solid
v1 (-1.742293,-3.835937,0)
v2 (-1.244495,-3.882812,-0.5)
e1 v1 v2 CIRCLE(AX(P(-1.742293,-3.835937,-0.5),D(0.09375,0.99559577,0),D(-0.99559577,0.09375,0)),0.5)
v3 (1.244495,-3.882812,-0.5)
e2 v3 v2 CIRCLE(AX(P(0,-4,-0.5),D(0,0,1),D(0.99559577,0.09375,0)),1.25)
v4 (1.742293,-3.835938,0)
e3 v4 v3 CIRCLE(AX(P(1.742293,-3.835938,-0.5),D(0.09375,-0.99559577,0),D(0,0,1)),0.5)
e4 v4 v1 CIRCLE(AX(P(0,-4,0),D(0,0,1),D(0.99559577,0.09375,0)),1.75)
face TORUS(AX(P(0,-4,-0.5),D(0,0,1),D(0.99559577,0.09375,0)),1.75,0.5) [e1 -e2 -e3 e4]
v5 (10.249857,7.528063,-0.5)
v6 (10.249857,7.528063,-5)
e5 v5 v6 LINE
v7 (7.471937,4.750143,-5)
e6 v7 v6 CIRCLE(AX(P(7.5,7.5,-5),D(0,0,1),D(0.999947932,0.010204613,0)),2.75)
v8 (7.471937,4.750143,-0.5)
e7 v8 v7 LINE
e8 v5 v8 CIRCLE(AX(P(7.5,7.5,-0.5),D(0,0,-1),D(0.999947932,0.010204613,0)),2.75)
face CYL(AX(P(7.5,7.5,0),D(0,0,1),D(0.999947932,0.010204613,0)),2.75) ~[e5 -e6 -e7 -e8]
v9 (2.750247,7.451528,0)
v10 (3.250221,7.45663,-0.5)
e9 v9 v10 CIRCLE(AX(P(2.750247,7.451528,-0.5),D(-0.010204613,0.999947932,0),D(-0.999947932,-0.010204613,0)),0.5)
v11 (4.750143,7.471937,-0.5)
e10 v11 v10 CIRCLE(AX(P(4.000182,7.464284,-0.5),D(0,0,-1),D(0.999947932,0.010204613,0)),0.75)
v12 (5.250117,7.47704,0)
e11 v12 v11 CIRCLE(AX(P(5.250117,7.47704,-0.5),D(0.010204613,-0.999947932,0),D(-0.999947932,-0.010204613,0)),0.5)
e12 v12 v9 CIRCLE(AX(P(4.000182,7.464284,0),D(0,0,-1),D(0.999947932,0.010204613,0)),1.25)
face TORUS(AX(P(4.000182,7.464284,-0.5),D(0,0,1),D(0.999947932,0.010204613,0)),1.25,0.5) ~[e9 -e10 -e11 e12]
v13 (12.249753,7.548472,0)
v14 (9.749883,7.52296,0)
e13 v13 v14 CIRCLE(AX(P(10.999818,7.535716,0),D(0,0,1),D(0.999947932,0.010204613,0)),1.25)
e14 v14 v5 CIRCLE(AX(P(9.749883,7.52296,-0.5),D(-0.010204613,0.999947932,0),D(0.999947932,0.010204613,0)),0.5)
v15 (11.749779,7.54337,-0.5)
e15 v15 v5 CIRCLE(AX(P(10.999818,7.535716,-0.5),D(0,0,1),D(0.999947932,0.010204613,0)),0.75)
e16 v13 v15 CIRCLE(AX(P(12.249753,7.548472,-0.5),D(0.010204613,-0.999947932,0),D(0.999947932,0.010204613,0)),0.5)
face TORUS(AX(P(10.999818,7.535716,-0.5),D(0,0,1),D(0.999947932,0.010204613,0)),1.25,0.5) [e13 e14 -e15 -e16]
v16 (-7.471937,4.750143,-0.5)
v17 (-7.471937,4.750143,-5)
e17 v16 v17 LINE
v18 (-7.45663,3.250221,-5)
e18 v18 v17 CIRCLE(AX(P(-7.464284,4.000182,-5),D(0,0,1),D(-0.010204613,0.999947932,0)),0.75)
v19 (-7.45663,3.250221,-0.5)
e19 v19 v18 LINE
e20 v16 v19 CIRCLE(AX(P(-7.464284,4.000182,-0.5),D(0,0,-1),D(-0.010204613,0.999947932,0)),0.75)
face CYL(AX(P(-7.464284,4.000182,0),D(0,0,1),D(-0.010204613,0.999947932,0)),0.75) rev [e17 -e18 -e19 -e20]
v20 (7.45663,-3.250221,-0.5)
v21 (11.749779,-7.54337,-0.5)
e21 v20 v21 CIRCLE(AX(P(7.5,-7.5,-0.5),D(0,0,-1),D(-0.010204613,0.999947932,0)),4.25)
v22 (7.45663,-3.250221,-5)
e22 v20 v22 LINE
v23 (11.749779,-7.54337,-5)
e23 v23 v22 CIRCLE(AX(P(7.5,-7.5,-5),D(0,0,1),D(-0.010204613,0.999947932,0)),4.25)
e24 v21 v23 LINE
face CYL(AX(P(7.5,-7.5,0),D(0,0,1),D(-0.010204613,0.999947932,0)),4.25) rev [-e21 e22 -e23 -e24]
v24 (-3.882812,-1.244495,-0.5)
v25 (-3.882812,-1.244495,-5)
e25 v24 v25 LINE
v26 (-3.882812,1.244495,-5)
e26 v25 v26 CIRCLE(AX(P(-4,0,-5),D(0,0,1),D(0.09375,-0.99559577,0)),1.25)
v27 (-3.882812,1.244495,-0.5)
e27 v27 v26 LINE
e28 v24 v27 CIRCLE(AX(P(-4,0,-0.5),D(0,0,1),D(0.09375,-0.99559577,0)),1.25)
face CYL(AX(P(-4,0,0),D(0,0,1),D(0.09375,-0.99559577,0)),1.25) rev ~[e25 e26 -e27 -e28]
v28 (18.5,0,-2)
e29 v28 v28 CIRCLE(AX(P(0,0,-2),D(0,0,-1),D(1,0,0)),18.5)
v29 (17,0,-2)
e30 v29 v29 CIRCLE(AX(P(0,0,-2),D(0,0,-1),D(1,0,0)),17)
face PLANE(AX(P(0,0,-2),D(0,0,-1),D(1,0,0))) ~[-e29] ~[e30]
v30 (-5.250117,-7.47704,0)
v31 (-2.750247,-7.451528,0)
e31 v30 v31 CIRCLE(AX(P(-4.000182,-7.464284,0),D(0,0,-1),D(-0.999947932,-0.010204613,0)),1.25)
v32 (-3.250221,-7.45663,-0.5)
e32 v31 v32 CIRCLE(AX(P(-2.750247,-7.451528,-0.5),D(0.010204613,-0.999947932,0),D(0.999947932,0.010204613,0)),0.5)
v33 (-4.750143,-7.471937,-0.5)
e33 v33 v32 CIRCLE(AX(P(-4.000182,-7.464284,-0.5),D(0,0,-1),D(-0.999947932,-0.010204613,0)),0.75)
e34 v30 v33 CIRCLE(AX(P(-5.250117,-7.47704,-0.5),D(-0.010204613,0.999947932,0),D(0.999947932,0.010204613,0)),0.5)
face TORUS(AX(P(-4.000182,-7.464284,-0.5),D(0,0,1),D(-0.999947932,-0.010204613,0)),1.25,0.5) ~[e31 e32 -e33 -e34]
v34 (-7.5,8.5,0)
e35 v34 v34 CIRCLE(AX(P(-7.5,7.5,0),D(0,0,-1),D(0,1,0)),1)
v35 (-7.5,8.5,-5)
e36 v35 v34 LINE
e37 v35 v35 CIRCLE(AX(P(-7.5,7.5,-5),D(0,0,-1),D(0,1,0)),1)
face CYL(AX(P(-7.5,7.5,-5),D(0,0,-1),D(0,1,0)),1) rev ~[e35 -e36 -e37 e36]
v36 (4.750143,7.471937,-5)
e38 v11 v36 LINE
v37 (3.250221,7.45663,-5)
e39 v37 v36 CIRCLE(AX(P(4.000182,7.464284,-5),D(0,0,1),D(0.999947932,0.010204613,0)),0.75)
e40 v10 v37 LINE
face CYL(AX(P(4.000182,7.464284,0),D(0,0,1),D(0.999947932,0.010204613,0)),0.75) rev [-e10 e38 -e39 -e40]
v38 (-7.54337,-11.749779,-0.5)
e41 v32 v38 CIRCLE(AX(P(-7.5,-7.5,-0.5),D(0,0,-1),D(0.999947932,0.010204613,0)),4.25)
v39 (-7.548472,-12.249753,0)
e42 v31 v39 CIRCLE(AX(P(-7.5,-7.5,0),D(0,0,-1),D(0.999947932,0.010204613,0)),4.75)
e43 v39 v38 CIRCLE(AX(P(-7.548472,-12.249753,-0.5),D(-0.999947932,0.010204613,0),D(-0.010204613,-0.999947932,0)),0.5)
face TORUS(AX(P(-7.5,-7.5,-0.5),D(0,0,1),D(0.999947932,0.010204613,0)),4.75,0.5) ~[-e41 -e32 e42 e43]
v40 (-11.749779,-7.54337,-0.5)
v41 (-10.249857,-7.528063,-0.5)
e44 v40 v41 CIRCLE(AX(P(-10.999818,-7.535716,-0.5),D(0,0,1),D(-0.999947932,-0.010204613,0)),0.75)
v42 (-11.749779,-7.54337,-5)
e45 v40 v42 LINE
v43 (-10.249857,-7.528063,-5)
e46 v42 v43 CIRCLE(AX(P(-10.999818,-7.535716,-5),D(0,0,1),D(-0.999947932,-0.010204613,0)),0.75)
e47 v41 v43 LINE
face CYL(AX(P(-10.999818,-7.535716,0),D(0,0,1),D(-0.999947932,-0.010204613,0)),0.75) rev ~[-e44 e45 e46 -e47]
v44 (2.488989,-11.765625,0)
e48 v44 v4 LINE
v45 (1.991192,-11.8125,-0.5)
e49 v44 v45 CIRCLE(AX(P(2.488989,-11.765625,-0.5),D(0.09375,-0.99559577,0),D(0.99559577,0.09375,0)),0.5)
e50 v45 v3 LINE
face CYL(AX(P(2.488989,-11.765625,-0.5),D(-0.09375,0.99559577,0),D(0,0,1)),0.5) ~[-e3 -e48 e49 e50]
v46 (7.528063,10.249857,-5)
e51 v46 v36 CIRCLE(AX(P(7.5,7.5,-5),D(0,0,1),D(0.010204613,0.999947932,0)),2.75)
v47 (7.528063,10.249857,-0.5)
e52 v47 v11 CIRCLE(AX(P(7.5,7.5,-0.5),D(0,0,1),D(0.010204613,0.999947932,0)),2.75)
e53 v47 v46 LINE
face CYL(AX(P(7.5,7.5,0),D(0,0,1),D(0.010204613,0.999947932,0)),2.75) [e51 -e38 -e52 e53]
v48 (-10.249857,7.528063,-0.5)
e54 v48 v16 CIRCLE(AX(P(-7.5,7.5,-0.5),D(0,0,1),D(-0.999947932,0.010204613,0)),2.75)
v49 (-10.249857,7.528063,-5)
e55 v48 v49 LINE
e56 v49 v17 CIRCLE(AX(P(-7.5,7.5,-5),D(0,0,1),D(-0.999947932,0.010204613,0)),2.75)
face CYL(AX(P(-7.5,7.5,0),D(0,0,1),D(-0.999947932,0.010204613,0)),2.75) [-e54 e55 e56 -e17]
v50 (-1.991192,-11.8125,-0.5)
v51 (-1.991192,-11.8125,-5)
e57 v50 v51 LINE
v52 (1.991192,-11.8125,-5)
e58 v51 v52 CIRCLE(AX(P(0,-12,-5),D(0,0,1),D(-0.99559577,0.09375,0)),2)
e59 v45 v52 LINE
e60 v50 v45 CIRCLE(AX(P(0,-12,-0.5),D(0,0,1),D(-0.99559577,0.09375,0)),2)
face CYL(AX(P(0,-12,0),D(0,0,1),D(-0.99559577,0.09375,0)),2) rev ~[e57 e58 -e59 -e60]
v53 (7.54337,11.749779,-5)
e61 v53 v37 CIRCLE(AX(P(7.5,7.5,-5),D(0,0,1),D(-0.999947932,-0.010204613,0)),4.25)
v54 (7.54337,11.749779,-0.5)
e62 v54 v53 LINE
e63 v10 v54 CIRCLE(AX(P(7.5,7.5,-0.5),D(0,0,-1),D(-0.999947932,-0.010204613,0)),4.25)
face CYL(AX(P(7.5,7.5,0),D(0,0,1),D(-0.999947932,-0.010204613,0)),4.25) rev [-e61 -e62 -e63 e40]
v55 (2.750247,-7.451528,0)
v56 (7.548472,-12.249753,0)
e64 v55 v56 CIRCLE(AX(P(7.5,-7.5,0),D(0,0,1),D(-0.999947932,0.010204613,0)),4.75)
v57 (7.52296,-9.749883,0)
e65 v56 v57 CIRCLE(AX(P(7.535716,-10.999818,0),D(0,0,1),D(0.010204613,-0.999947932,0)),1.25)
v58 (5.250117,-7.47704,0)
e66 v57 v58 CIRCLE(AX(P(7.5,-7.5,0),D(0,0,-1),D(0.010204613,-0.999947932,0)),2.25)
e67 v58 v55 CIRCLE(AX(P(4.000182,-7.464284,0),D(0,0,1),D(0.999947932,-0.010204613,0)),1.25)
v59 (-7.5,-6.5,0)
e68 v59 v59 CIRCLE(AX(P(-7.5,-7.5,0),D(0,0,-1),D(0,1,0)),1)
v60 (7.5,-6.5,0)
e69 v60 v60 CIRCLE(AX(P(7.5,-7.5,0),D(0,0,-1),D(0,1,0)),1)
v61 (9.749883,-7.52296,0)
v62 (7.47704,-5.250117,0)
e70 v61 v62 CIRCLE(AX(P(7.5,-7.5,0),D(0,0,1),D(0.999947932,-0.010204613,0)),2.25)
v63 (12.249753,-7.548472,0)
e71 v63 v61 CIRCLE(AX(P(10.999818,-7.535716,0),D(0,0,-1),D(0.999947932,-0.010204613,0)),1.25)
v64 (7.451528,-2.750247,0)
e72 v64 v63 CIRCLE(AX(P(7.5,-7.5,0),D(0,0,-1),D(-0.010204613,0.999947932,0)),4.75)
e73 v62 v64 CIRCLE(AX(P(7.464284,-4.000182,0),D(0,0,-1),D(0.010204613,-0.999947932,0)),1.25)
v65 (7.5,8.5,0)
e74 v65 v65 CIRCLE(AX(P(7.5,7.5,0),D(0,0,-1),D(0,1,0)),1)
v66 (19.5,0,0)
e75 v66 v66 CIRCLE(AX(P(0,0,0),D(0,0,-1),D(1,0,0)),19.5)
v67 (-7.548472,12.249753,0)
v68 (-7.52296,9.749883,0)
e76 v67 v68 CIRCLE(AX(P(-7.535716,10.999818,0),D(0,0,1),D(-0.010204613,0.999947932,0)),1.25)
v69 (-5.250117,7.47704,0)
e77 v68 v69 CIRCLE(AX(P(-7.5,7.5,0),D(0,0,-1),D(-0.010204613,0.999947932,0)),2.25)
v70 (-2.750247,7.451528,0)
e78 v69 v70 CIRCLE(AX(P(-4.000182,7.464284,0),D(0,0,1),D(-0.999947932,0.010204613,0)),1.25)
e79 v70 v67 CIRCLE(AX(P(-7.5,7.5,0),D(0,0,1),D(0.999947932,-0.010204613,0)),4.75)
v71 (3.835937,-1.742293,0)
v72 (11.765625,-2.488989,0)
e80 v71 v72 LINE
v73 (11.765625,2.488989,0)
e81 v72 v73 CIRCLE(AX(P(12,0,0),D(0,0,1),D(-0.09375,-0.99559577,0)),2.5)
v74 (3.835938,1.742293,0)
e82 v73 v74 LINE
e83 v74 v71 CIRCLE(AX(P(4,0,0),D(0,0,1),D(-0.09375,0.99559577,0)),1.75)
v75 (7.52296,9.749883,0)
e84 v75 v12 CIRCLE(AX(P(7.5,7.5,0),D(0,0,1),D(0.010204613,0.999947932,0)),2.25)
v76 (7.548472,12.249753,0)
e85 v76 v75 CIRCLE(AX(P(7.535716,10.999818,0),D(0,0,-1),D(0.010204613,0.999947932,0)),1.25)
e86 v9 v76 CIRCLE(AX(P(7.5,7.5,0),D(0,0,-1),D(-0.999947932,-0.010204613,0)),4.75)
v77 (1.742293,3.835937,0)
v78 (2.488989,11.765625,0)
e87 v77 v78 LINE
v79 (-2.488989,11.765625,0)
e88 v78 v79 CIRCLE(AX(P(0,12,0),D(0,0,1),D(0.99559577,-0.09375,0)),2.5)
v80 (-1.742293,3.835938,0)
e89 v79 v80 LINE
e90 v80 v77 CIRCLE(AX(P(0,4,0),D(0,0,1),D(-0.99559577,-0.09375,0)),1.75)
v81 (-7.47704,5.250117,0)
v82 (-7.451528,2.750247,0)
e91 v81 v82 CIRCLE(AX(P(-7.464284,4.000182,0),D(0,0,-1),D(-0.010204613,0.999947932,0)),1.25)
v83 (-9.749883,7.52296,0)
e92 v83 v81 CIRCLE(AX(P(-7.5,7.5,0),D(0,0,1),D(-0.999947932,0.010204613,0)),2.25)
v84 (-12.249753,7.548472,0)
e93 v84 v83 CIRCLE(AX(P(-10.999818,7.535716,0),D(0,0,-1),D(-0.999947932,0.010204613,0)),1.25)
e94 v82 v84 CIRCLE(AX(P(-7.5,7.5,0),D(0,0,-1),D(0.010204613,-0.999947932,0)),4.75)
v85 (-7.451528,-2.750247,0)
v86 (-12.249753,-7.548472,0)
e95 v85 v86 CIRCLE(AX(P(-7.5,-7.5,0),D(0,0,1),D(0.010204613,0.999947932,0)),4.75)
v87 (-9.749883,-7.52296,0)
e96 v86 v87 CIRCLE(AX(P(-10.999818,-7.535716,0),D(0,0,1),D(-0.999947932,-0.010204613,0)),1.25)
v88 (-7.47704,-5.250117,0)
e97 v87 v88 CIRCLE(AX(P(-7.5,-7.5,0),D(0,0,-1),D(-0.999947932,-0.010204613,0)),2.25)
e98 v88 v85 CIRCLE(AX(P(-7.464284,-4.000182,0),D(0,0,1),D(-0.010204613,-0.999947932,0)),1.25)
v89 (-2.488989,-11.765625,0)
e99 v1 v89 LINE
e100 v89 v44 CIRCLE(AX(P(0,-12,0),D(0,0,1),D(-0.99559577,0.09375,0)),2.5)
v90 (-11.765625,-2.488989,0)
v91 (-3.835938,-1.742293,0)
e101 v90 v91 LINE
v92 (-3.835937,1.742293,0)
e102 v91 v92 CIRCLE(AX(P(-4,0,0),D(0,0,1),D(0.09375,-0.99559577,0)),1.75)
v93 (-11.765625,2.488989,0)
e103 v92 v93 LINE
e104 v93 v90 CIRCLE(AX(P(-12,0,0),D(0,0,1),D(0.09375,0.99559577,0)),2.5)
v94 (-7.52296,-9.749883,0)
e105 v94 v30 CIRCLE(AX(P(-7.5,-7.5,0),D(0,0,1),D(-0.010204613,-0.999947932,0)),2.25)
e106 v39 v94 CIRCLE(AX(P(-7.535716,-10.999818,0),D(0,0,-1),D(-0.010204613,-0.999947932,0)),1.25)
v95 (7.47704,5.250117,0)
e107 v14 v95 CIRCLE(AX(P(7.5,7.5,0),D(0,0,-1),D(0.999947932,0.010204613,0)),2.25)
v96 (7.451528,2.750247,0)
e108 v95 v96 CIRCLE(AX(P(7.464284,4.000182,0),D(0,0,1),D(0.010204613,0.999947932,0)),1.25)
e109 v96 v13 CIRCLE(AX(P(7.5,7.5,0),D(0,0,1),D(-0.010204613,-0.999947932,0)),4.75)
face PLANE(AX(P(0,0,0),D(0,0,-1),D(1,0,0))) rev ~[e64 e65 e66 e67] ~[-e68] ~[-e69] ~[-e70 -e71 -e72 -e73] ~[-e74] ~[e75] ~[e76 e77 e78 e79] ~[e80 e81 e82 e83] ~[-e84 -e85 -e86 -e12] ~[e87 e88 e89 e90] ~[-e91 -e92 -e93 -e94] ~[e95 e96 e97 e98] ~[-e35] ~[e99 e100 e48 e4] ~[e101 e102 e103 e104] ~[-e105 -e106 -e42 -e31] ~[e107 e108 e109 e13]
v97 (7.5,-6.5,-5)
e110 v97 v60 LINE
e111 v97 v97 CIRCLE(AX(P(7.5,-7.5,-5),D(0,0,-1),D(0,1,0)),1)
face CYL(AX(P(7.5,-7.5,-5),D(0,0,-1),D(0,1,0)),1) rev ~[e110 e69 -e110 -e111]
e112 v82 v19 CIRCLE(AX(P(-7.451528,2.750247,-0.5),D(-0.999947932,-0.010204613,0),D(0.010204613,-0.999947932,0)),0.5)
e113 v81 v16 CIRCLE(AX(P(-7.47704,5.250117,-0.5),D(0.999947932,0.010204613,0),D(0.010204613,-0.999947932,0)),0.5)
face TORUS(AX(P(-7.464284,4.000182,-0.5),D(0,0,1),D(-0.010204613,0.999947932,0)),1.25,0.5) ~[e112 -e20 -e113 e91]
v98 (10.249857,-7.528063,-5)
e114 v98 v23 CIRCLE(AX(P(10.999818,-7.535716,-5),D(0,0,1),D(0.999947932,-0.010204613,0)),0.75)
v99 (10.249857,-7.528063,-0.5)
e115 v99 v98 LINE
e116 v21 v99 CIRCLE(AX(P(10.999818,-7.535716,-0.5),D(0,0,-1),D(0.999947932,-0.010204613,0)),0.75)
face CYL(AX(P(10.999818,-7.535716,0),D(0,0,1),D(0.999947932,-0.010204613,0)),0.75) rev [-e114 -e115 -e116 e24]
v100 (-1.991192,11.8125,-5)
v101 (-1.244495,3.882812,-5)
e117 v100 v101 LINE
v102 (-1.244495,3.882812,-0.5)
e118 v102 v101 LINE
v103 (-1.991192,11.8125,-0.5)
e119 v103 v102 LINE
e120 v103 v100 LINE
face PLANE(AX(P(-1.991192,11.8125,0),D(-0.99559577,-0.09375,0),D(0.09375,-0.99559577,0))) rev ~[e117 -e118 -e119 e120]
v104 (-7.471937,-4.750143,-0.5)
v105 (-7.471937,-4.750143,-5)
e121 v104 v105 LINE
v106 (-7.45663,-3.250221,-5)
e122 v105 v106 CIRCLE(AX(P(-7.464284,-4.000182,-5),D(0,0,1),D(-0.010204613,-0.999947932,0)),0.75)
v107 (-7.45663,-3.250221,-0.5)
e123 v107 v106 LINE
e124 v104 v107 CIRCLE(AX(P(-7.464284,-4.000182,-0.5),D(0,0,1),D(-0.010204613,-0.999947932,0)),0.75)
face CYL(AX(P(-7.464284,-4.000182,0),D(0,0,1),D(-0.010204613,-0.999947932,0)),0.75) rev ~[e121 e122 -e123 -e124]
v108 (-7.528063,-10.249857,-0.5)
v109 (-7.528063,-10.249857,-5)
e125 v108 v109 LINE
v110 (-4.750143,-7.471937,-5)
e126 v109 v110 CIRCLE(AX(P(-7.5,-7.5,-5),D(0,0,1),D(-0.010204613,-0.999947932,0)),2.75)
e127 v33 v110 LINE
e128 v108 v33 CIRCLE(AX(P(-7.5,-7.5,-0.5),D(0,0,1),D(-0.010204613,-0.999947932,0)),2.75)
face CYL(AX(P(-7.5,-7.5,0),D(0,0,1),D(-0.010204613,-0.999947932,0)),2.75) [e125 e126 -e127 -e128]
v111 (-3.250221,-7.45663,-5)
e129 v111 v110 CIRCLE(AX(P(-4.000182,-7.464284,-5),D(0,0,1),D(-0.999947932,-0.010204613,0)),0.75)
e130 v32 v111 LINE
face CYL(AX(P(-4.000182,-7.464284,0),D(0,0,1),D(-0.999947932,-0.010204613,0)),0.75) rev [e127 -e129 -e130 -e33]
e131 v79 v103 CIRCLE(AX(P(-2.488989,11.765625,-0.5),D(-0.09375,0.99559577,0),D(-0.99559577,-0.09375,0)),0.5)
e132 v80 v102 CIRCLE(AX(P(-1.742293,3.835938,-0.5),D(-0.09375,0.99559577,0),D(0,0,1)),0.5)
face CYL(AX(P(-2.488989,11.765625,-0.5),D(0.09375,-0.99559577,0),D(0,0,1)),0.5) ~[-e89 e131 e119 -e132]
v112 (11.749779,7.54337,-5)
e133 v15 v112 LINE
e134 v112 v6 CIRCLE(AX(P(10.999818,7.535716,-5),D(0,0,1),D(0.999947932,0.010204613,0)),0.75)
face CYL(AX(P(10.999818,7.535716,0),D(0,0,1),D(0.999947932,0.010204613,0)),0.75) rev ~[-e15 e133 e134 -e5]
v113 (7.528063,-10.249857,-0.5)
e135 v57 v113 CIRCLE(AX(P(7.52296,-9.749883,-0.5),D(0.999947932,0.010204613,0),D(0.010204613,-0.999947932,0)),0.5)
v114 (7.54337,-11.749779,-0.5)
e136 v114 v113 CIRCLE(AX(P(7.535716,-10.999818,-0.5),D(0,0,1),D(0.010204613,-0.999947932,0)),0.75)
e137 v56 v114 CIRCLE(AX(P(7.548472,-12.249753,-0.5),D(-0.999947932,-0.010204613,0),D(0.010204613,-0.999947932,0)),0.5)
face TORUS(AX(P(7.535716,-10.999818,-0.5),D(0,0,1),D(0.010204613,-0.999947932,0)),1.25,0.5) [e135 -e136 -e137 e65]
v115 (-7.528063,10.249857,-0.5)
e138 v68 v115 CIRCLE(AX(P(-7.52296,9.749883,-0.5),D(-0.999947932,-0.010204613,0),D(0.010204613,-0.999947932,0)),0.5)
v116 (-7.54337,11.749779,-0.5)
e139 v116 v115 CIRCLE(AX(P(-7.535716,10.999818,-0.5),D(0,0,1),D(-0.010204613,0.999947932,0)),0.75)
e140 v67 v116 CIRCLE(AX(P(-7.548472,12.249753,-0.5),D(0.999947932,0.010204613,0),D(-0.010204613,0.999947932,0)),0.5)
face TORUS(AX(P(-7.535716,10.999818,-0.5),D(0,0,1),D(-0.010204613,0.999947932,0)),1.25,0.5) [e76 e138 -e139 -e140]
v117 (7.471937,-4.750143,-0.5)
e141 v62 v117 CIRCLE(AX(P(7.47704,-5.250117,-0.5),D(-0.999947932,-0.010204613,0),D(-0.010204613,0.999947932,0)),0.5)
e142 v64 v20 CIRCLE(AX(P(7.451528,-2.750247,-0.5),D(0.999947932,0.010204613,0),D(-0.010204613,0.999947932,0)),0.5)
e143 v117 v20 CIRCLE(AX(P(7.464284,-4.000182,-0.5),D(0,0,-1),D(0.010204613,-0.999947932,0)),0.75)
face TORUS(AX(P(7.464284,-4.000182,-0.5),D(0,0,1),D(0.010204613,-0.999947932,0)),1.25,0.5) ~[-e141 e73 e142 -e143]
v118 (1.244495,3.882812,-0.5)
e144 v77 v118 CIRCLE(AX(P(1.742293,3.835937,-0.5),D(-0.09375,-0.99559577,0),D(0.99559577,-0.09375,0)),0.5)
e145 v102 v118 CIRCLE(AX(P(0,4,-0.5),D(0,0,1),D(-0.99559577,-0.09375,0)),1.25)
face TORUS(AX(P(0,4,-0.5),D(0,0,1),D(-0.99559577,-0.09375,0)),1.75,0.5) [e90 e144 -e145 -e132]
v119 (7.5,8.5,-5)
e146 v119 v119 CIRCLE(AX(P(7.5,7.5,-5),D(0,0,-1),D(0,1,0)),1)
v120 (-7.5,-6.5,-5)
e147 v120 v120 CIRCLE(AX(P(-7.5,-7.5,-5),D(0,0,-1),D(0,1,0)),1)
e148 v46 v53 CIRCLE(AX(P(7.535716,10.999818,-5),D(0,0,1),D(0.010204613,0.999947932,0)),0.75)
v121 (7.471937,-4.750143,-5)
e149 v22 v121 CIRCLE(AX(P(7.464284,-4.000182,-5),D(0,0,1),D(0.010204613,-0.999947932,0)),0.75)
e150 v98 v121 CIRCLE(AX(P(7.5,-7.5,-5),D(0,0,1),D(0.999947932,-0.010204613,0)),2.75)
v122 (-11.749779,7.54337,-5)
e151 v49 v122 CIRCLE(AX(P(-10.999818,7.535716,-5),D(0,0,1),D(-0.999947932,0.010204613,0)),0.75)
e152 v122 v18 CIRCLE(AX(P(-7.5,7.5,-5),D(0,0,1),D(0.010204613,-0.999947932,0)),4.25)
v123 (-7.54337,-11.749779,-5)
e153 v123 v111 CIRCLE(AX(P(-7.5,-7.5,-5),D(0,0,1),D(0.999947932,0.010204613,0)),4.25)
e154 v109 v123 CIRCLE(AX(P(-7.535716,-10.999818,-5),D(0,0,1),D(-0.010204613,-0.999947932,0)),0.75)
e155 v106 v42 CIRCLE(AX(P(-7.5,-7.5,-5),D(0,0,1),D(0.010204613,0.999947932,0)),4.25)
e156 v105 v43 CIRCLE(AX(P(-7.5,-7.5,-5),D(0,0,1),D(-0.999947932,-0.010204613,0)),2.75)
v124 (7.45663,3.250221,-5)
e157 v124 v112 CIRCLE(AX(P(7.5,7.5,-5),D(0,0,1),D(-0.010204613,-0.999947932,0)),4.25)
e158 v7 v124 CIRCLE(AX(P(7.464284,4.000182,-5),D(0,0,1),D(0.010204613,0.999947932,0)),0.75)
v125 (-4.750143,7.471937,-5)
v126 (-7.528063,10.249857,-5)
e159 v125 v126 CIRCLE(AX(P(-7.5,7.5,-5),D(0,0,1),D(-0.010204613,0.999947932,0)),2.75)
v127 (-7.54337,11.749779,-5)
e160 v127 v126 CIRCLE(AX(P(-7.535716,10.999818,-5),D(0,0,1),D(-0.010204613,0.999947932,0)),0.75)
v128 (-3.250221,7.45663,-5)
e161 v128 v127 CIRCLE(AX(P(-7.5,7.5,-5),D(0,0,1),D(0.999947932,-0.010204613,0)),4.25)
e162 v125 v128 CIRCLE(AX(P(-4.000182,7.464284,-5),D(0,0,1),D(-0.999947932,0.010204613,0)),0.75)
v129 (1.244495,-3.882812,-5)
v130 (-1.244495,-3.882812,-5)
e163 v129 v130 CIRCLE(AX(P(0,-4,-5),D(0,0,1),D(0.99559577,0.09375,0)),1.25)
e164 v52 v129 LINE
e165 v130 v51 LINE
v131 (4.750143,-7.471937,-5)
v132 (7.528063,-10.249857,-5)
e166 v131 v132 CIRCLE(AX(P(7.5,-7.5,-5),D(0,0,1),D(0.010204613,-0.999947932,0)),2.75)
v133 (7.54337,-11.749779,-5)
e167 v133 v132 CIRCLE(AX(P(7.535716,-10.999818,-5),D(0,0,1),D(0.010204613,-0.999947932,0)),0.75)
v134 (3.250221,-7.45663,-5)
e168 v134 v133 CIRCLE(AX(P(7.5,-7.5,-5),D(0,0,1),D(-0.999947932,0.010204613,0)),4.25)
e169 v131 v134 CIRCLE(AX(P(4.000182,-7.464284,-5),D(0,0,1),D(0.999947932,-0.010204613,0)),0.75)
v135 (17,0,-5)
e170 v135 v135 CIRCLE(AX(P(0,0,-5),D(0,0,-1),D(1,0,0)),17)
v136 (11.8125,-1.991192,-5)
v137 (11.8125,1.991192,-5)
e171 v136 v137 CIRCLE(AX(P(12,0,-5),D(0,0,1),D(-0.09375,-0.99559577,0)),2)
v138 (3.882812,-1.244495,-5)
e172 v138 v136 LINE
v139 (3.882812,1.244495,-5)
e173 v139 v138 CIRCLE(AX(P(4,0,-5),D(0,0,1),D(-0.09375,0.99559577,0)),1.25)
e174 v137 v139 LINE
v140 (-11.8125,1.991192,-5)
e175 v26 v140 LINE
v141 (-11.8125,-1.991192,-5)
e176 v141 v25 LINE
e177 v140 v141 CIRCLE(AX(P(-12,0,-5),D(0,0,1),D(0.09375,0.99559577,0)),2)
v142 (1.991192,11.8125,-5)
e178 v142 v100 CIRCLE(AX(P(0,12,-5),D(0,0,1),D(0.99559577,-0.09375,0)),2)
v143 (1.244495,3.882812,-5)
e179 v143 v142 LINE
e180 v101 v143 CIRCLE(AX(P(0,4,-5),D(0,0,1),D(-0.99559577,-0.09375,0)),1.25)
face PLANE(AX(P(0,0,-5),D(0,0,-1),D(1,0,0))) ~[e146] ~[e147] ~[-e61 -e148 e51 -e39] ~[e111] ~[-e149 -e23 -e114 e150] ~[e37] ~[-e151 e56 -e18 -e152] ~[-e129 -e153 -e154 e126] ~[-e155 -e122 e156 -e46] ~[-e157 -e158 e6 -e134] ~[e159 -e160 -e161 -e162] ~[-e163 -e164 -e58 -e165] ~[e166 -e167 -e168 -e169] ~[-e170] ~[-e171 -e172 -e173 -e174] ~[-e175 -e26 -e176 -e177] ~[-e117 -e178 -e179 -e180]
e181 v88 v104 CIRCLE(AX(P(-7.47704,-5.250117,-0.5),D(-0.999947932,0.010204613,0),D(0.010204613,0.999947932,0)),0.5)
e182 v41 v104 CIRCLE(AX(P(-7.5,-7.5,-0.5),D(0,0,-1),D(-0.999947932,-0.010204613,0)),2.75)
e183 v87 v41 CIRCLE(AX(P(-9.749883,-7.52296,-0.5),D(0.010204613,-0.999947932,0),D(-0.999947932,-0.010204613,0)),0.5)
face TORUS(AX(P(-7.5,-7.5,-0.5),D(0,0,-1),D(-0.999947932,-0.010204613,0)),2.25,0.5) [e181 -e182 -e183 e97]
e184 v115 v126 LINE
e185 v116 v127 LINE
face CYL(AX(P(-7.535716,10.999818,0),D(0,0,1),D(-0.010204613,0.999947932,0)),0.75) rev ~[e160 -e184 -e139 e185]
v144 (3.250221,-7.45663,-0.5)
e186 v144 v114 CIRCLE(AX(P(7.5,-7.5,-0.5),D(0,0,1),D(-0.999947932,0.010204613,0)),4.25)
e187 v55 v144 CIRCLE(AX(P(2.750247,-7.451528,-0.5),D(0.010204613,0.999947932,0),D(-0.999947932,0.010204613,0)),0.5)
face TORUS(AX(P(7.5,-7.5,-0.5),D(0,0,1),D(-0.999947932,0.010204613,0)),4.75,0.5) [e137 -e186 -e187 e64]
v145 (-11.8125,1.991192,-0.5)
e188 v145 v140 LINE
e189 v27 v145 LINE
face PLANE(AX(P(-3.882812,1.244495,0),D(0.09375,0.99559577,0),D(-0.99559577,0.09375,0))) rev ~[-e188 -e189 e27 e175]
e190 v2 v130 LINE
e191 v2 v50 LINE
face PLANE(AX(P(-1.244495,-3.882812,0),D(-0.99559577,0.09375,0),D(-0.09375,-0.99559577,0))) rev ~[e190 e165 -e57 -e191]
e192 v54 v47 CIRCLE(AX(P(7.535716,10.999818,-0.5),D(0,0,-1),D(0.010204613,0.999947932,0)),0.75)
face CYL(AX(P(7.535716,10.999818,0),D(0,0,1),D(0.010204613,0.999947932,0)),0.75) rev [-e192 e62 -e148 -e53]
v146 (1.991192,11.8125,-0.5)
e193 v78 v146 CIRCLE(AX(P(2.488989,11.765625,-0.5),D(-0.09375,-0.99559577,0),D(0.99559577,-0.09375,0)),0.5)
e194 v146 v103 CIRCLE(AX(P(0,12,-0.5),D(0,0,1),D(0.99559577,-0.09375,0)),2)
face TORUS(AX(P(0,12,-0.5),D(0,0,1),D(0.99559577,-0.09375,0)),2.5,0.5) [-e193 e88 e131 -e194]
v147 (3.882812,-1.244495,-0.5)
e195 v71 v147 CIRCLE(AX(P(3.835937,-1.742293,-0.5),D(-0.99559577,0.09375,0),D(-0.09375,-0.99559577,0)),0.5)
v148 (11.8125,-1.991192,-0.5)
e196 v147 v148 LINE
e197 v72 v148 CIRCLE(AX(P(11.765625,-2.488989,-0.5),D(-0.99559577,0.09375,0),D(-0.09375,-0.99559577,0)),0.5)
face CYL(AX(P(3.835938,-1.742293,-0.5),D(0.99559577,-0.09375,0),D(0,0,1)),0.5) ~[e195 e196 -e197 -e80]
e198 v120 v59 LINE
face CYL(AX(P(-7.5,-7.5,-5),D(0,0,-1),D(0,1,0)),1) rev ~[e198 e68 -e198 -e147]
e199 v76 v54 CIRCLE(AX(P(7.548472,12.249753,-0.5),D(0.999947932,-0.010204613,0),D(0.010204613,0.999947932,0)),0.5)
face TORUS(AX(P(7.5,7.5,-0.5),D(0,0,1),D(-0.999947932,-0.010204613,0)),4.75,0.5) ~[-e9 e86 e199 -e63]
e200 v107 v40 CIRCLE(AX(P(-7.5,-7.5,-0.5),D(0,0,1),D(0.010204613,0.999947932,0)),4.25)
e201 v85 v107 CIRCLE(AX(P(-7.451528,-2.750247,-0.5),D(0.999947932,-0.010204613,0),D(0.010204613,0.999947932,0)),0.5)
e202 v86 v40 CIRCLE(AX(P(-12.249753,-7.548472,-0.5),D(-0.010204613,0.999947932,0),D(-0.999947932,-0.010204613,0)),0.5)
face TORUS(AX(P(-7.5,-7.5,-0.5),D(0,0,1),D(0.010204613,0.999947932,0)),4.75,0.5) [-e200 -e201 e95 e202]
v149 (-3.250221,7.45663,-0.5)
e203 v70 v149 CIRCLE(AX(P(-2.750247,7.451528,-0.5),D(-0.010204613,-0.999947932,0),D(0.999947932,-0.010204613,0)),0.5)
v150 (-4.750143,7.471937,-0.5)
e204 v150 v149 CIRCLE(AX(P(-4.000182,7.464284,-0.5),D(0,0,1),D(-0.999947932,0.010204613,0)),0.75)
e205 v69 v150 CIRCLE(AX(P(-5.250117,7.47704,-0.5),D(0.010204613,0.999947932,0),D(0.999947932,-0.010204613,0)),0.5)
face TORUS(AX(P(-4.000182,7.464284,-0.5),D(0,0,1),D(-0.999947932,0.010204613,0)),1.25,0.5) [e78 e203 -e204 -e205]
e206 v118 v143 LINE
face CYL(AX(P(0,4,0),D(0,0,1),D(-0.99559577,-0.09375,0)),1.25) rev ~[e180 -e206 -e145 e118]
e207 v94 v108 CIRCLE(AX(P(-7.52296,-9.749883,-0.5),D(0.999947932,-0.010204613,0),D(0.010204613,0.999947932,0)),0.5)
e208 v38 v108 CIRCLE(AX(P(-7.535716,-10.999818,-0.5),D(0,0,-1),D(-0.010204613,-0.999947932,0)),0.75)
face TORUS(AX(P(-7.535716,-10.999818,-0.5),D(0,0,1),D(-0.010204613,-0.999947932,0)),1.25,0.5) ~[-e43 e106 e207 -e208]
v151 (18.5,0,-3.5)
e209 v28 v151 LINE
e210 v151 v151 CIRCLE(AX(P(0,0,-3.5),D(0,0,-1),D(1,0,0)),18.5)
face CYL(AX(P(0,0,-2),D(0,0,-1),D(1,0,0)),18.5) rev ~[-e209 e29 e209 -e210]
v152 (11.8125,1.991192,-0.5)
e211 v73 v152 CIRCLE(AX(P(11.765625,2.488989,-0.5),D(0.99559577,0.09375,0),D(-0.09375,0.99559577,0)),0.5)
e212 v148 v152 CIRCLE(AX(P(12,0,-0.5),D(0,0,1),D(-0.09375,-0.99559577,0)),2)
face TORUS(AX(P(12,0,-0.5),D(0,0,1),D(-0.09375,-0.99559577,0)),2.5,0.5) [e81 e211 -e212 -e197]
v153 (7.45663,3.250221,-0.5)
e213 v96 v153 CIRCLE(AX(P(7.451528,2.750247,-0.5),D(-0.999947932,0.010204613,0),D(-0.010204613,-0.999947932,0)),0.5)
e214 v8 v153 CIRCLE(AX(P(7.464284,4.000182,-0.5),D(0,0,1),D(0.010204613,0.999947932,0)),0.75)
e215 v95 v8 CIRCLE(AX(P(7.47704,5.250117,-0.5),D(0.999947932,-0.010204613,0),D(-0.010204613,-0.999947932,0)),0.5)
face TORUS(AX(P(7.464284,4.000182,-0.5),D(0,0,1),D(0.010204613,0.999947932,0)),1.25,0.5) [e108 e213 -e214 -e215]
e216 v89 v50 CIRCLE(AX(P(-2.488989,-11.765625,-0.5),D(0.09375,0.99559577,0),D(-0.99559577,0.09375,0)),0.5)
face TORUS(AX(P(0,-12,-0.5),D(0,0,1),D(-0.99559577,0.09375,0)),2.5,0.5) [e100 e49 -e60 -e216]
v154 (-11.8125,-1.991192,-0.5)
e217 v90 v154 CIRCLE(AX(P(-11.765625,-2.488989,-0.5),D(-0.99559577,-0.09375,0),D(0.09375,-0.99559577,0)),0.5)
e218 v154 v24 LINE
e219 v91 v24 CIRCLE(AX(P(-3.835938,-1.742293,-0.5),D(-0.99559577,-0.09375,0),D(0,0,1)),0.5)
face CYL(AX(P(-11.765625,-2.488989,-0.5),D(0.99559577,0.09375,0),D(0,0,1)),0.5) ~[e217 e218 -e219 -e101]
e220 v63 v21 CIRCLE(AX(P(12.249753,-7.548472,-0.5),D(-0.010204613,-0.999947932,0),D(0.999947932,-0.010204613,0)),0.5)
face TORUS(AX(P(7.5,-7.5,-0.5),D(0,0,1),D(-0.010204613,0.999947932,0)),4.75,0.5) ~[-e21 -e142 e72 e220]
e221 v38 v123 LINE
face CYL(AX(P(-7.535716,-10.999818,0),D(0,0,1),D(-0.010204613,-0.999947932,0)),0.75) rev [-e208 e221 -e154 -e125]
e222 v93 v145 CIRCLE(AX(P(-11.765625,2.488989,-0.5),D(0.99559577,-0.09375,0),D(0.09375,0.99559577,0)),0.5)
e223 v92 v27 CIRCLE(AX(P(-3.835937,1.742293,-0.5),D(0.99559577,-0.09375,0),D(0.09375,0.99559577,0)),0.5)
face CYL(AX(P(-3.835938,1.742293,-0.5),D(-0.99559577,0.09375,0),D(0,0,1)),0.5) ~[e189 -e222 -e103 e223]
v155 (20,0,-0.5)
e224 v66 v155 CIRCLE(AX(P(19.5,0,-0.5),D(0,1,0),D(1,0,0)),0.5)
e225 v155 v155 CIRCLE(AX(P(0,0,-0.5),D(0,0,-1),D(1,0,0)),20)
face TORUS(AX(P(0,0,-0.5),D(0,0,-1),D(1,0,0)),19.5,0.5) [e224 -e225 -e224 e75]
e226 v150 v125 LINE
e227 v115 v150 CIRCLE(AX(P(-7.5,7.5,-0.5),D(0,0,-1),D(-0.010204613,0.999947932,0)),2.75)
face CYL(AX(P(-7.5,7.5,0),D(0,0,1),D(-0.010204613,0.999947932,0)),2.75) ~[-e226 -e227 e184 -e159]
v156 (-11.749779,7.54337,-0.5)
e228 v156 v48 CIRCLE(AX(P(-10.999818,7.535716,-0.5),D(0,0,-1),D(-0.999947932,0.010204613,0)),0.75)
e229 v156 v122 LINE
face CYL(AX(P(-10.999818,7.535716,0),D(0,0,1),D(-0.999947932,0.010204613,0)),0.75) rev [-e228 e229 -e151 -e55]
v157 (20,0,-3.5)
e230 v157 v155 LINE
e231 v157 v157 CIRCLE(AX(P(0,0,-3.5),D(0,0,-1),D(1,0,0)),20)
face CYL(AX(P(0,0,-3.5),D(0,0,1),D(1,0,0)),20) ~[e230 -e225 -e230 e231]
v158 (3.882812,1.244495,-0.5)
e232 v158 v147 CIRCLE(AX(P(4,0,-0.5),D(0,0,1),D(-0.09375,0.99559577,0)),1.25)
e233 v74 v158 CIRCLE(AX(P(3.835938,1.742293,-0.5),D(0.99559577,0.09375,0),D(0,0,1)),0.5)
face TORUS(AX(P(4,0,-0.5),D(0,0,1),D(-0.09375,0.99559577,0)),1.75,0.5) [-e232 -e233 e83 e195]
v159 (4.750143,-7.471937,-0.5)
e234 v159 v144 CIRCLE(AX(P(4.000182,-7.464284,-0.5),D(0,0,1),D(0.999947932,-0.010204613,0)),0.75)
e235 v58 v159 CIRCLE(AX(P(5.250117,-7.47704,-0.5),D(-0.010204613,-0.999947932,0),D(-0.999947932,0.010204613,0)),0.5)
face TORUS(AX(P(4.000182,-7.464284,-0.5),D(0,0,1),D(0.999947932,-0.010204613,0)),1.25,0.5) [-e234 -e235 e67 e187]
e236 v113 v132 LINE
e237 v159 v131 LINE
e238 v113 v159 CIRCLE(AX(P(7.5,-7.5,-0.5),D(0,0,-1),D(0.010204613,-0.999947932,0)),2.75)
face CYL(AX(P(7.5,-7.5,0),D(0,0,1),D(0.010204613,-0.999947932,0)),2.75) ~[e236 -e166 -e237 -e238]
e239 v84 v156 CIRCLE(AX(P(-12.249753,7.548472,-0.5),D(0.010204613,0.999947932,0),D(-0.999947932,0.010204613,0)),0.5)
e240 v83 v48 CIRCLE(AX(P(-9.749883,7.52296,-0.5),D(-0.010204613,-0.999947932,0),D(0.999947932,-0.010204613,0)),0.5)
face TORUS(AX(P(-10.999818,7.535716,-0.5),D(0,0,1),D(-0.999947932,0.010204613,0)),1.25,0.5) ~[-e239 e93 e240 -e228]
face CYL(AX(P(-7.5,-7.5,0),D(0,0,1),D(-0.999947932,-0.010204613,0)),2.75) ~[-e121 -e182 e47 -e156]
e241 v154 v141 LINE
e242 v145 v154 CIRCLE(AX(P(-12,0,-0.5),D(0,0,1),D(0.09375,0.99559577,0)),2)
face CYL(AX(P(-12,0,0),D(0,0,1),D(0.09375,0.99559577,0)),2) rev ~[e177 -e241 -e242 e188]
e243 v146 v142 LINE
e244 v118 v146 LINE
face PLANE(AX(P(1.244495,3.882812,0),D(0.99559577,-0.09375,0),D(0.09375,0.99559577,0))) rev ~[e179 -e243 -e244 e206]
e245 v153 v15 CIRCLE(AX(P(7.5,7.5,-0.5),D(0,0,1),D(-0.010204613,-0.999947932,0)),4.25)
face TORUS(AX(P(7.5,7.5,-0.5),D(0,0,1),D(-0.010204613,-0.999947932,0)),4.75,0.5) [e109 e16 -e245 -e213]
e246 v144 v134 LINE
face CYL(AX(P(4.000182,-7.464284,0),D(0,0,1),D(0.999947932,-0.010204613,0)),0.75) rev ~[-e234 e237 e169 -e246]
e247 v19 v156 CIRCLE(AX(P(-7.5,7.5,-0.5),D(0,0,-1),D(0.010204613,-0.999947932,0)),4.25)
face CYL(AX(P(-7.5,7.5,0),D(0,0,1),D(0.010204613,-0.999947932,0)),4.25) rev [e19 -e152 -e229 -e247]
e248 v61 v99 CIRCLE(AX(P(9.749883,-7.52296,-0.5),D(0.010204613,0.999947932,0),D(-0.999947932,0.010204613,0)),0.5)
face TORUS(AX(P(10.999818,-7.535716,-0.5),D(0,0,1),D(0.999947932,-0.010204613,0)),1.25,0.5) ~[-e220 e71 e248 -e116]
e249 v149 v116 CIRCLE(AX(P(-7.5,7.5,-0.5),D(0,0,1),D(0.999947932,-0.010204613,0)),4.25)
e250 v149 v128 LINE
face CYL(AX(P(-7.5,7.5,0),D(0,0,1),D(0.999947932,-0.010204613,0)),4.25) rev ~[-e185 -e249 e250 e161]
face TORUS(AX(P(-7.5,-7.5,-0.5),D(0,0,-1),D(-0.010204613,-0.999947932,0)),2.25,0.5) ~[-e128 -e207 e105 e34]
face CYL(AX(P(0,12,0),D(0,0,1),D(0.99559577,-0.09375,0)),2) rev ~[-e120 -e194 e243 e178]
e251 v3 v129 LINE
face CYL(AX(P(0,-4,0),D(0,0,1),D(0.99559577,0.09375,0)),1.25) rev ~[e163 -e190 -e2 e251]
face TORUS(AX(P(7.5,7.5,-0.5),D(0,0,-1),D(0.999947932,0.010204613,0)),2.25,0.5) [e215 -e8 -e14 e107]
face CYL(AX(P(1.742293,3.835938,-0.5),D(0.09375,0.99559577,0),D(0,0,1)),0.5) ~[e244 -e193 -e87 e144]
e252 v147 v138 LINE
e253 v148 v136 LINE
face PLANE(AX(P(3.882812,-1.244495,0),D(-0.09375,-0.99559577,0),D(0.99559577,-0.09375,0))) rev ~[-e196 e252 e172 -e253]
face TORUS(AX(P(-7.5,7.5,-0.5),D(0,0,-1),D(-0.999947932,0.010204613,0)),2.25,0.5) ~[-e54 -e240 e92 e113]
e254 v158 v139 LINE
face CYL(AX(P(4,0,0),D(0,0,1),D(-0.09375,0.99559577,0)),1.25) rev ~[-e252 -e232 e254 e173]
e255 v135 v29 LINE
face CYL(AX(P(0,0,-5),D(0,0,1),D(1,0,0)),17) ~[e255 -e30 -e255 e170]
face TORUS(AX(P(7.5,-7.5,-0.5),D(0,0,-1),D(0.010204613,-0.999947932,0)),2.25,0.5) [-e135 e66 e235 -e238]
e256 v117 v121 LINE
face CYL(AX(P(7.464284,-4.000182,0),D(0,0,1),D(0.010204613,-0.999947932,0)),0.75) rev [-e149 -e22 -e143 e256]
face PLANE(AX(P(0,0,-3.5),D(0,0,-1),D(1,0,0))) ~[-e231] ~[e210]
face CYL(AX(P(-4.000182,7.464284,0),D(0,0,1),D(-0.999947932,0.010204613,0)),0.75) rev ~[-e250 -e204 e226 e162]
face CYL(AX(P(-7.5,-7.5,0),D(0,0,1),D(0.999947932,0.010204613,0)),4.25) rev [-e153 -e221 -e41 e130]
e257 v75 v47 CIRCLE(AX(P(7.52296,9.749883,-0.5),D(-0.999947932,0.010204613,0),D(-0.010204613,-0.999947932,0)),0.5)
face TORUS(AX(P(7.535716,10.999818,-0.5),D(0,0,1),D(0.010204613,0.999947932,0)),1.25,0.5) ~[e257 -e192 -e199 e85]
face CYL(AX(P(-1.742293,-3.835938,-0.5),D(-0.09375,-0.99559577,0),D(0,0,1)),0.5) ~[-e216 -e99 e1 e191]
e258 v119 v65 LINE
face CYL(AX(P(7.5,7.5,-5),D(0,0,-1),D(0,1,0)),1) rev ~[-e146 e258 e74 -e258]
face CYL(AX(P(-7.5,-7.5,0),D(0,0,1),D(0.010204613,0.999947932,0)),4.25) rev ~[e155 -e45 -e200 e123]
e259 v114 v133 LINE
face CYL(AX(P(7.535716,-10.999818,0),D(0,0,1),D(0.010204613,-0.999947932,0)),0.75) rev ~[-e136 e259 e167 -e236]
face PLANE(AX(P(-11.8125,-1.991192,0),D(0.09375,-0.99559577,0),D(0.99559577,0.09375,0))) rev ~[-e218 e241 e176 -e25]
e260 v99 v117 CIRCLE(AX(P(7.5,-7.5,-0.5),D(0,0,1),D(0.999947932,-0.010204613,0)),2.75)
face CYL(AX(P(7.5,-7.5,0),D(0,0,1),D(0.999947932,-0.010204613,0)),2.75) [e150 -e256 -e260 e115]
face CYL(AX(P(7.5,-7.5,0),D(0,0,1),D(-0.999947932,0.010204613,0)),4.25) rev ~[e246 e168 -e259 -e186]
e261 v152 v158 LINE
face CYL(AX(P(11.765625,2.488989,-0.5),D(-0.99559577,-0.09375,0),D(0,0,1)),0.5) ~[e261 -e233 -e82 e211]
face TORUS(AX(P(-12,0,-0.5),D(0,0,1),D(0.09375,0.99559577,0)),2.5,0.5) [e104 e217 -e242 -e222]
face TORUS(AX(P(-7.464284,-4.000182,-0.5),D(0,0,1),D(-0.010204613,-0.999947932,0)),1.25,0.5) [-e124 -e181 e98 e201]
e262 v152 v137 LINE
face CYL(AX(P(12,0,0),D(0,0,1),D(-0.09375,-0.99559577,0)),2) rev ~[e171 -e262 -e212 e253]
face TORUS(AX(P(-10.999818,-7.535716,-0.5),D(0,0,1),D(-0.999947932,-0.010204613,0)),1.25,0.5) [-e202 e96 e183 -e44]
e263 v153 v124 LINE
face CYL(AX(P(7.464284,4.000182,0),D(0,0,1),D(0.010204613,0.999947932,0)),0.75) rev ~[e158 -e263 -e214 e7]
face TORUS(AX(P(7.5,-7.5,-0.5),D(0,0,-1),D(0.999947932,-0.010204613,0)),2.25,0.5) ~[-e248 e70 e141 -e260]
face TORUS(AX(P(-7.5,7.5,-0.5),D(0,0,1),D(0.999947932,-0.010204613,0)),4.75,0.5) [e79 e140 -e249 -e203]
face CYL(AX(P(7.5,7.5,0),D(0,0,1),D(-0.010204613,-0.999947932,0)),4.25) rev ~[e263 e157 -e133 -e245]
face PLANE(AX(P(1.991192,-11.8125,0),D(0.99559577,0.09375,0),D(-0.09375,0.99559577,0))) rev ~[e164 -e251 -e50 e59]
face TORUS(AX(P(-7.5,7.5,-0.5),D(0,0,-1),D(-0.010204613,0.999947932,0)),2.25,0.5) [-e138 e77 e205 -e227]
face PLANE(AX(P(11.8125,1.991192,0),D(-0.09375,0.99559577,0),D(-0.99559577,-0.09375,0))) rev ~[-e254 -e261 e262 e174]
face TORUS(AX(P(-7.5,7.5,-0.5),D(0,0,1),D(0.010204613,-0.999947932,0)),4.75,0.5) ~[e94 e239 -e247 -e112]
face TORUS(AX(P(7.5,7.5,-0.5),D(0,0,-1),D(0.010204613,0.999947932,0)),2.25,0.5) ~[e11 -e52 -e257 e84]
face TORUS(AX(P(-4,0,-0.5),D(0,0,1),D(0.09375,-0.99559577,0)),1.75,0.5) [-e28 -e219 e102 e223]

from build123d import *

# Parameters (mm, degrees)
SKETCH3_R          = 1
CUT_EXTRUDE1_DEPTH = 20
CUT_EXTRUDE2_DEPTH = 20
FILLET3_R          = 0.5
FILLET4_R          = 0.5
CUT_EXTRUDE3_DEPTH = 10
FILLET5_R          = 0.5


with BuildPart() as part:
    # Sketch2 → Revolve1 (revolve)
    with BuildSketch(Plane(origin=(0, 0, 0), x_dir=(0, 0, -1), z_dir=(1, 0, 0)), mode=Mode.PRIVATE) as revolve1_sk:
        Polygon((0, 20), (0, 0), (5, 0), (5, 17), (2, 17), (2, 18.5), (3.5, 18.5), (3.5, 20), (2, 20), align=None)
    revolve(revolve1_sk.sketch.rotate(Axis((0, 0, 0), (0, 0, -1)), 90), axis=Axis((0, 0, 0), (0, 0, -1)))

    # Sketch3 → Cut-Extrude1 (cut)
    with BuildSketch(Plane(origin=(0, 0, -5), x_dir=(-1, 0, 0), z_dir=(0, 0, -1))):
        with Locations(Location((-7.5, 7.5, 0), (0, 0, 90))):
            Circle(SKETCH3_R)
        with Locations(Location((7.5, 7.5, 0), (0, 0, 90))):
            Circle(SKETCH3_R)
        with Locations(Location((7.5, -7.5, 0), (0, 0, 90))):
            Circle(SKETCH3_R)
        with Locations(Location((-7.5, -7.5, 0), (0, 0, 90))):
            Circle(SKETCH3_R)
    extrude(amount=-CUT_EXTRUDE1_DEPTH, mode=Mode.SUBTRACT)

    # Sketch4 → Cut-Extrude2 (cut)
    with BuildSketch(Plane.XY):
        with BuildLine():
            Line((-1.99119154, 11.8125), (-1.244494713, 3.8828125))
            ThreePointArc((-1.244494713, 3.8828125), (0, 2.75), (1.244494713, 3.8828125))
            Line((1.244494713, 3.8828125), (1.99119154, 11.8125))
            ThreePointArc((1.99119154, 11.8125), (0, 14), (-1.99119154, 11.8125))
        make_face()
        with BuildLine():
            Line((3.8828125, -1.244494713), (11.8125, -1.99119154))
            ThreePointArc((11.8125, -1.99119154), (14, 0), (11.8125, 1.99119154))
            Line((11.8125, 1.99119154), (3.8828125, 1.244494713))
            ThreePointArc((3.8828125, 1.244494713), (2.75, 0), (3.8828125, -1.244494713))
        make_face()
        with BuildLine():
            Line((-1.244494713, -3.8828125), (-1.99119154, -11.8125))
            ThreePointArc((-1.99119154, -11.8125), (0, -14), (1.99119154, -11.8125))
            Line((1.99119154, -11.8125), (1.244494713, -3.8828125))
            ThreePointArc((1.244494713, -3.8828125), (0, -2.75), (-1.244494713, -3.8828125))
        make_face()
        with BuildLine():
            Line((-3.8828125, 1.244494713), (-11.8125, 1.99119154))
            ThreePointArc((-11.8125, 1.99119154), (-14, 0), (-11.8125, -1.99119154))
            Line((-11.8125, -1.99119154), (-3.8828125, -1.244494713))
            ThreePointArc((-3.8828125, -1.244494713), (-2.75, 0), (-3.8828125, 1.244494713))
        make_face()
    extrude(amount=-CUT_EXTRUDE2_DEPTH, mode=Mode.SUBTRACT)

    # Fillet3
    fillet3_edges = [part.edges().sort_by_distance(p)[0] for p in [
        (-20, 0, 0),
    ]]
    fillet(fillet3_edges, radius=FILLET3_R)

    # Fillet4
    fillet4_edges = [part.edges().sort_by_distance(p)[0] for p in [
        (0, 14, 0),
        (-1.617843126, 7.84765625, 0),
        (0, 2.75, 0),
        (1.617843126, 7.84765625, 0),
        (14, 0, 0),
        (7.84765625, 1.617843126, 0),
        (2.75, 0, 0),
        (7.84765625, -1.617843126, 0),
        (0, -14, 0),
        (1.617843126, -7.84765625, 0),
        (0, -2.75, 0),
        (-1.617843126, -7.84765625, 0),
        (-14, 0, 0),
        (-7.84765625, -1.617843126, 0),
        (-2.75, 0, 0),
        (-7.84765625, 1.617843126, 0),
    ]]
    fillet(fillet4_edges, radius=FILLET4_R)

    # Sketch5 → Cut-Extrude3 (cut)
    with BuildSketch(Plane.XY):
        with BuildLine():
            ThreePointArc((-7.528062686, 10.249856812), (-5.555456352, 9.444543648), (-4.750143188, 7.471937314))
            ThreePointArc((-4.750143188, 7.471937314), (-4.007835699, 6.714322906), (-3.250221291, 7.456630395))
            ThreePointArc((-3.250221291, 7.456630395), (-4.49479618, 10.50520382), (-7.543369605, 11.749778709))
            ThreePointArc((-7.543369605, 11.749778709), (-8.285677094, 10.992164301), (-7.528062686, 10.249856812))
        make_face()
        with BuildLine():
            ThreePointArc((-10.249856812, 7.528062686), (-9.444543648, 5.555456352), (-7.471937314, 4.750143188))
            ThreePointArc((-7.471937314, 4.750143188), (-6.714322906, 4.007835699), (-7.456630395, 3.250221291))
            ThreePointArc((-7.456630395, 3.250221291), (-10.50520382, 4.49479618), (-11.749778709, 7.543369605))
            ThreePointArc((-11.749778709, 7.543369605), (-10.992164301, 8.285677094), (-10.249856812, 7.528062686))
        make_face()
        with BuildLine():
            ThreePointArc((7.528062686, 10.249856812), (5.555456352, 9.444543648), (4.750143188, 7.471937314))
            ThreePointArc((4.750143188, 7.471937314), (4.007835699, 6.714322906), (3.250221291, 7.456630395))
            ThreePointArc((3.250221291, 7.456630395), (4.49479618, 10.50520382), (7.543369605, 11.749778709))
            ThreePointArc((7.543369605, 11.749778709), (8.285677094, 10.992164301), (7.528062686, 10.249856812))
        make_face()
        with BuildLine():
            ThreePointArc((7.471937314, 4.750143188), (6.714322906, 4.007835699), (7.456630395, 3.250221291))
            ThreePointArc((7.456630395, 3.250221291), (10.50520382, 4.49479618), (11.749778709, 7.543369605))
            ThreePointArc((11.749778709, 7.543369605), (10.992164301, 8.285677094), (10.249856812, 7.528062686))
            ThreePointArc((10.249856812, 7.528062686), (9.444543648, 5.555456352), (7.471937314, 4.750143188))
        make_face()
        with BuildLine():
            ThreePointArc((10.249856812, -7.528062686), (9.444543648, -5.555456352), (7.471937314, -4.750143188))
            ThreePointArc((7.471937314, -4.750143188), (6.714322906, -4.007835699), (7.456630395, -3.250221291))
            ThreePointArc((7.456630395, -3.250221291), (10.50520382, -4.49479618), (11.749778709, -7.543369605))
            ThreePointArc((11.749778709, -7.543369605), (10.992164301, -8.285677094), (10.249856812, -7.528062686))
        make_face()
        with BuildLine():
            ThreePointArc((4.750143188, -7.471937314), (4.007835699, -6.714322906), (3.250221291, -7.456630395))
            ThreePointArc((3.250221291, -7.456630395), (4.49479618, -10.50520382), (7.543369605, -11.749778709))
            ThreePointArc((7.543369605, -11.749778709), (8.285677094, -10.992164301), (7.528062686, -10.249856812))
            ThreePointArc((7.528062686, -10.249856812), (5.555456352, -9.444543648), (4.750143188, -7.471937314))
        make_face()
        with BuildLine():
            ThreePointArc((-7.528062686, -10.249856812), (-5.555456352, -9.444543648), (-4.750143188, -7.471937314))
            ThreePointArc((-4.750143188, -7.471937314), (-4.007835699, -6.714322906), (-3.250221291, -7.456630395))
            ThreePointArc((-3.250221291, -7.456630395), (-4.49479618, -10.50520382), (-7.543369605, -11.749778709))
            ThreePointArc((-7.543369605, -11.749778709), (-8.285677094, -10.992164301), (-7.528062686, -10.249856812))
        make_face()
        with BuildLine():
            ThreePointArc((-7.471937314, -4.750143188), (-6.714322906, -4.007835699), (-7.456630395, -3.250221291))
            ThreePointArc((-7.456630395, -3.250221291), (-10.50520382, -4.49479618), (-11.749778709, -7.543369605))
            ThreePointArc((-11.749778709, -7.543369605), (-10.992164301, -8.285677094), (-10.249856812, -7.528062686))
            ThreePointArc((-10.249856812, -7.528062686), (-9.444543648, -5.555456352), (-7.471937314, -4.750143188))
        make_face()
    extrude(amount=-CUT_EXTRUDE3_DEPTH, mode=Mode.SUBTRACT)

    # Fillet5
    fillet5_edges = [part.edges().sort_by_distance(p)[0] for p in [
        (5.555456352, -9.444543648, 0),
        (4.007835699, -6.714322906, 0),
        (4.49479618, -10.50520382, 0),
        (8.285677094, -10.992164301, 0),
        (8.285677094, 10.992164301, 0),
        (4.49479618, 10.50520382, 0),
        (4.007835699, 6.714322906, 0),
        (5.555456352, 9.444543648, 0),
        (9.444543648, 5.555456352, 0),
        (6.714322906, 4.007835699, 0),
        (10.50520382, 4.49479618, 0),
        (10.992164301, 8.285677094, 0),
        (-10.992164301, 8.285677094, 0),
        (-10.50520382, 4.49479618, 0),
        (-6.714322906, 4.007835699, 0),
        (-9.444543648, 5.555456352, 0),
        (-8.285677094, -10.992164301, 0),
        (-4.49479618, -10.50520382, 0),
        (-4.007835699, -6.714322906, 0),
        (-5.555456352, -9.444543648, 0),
        (-9.444543648, -5.555456352, 0),
        (-6.714322906, -4.007835699, 0),
        (-10.50520382, -4.49479618, 0),
        (-10.992164301, -8.285677094, 0),
        (10.992164301, -8.285677094, 0),
        (10.50520382, -4.49479618, 0),
        (6.714322906, -4.007835699, 0),
        (9.444543648, -5.555456352, 0),
        (-8.285677094, 10.992164301, 0),
        (-5.555456352, 9.444543648, 0),
        (-4.007835699, 6.714322906, 0),
        (-4.49479618, 10.50520382, 0),
    ]]
    fillet(fillet5_edges, radius=FILLET5_R)


solid = part.part
